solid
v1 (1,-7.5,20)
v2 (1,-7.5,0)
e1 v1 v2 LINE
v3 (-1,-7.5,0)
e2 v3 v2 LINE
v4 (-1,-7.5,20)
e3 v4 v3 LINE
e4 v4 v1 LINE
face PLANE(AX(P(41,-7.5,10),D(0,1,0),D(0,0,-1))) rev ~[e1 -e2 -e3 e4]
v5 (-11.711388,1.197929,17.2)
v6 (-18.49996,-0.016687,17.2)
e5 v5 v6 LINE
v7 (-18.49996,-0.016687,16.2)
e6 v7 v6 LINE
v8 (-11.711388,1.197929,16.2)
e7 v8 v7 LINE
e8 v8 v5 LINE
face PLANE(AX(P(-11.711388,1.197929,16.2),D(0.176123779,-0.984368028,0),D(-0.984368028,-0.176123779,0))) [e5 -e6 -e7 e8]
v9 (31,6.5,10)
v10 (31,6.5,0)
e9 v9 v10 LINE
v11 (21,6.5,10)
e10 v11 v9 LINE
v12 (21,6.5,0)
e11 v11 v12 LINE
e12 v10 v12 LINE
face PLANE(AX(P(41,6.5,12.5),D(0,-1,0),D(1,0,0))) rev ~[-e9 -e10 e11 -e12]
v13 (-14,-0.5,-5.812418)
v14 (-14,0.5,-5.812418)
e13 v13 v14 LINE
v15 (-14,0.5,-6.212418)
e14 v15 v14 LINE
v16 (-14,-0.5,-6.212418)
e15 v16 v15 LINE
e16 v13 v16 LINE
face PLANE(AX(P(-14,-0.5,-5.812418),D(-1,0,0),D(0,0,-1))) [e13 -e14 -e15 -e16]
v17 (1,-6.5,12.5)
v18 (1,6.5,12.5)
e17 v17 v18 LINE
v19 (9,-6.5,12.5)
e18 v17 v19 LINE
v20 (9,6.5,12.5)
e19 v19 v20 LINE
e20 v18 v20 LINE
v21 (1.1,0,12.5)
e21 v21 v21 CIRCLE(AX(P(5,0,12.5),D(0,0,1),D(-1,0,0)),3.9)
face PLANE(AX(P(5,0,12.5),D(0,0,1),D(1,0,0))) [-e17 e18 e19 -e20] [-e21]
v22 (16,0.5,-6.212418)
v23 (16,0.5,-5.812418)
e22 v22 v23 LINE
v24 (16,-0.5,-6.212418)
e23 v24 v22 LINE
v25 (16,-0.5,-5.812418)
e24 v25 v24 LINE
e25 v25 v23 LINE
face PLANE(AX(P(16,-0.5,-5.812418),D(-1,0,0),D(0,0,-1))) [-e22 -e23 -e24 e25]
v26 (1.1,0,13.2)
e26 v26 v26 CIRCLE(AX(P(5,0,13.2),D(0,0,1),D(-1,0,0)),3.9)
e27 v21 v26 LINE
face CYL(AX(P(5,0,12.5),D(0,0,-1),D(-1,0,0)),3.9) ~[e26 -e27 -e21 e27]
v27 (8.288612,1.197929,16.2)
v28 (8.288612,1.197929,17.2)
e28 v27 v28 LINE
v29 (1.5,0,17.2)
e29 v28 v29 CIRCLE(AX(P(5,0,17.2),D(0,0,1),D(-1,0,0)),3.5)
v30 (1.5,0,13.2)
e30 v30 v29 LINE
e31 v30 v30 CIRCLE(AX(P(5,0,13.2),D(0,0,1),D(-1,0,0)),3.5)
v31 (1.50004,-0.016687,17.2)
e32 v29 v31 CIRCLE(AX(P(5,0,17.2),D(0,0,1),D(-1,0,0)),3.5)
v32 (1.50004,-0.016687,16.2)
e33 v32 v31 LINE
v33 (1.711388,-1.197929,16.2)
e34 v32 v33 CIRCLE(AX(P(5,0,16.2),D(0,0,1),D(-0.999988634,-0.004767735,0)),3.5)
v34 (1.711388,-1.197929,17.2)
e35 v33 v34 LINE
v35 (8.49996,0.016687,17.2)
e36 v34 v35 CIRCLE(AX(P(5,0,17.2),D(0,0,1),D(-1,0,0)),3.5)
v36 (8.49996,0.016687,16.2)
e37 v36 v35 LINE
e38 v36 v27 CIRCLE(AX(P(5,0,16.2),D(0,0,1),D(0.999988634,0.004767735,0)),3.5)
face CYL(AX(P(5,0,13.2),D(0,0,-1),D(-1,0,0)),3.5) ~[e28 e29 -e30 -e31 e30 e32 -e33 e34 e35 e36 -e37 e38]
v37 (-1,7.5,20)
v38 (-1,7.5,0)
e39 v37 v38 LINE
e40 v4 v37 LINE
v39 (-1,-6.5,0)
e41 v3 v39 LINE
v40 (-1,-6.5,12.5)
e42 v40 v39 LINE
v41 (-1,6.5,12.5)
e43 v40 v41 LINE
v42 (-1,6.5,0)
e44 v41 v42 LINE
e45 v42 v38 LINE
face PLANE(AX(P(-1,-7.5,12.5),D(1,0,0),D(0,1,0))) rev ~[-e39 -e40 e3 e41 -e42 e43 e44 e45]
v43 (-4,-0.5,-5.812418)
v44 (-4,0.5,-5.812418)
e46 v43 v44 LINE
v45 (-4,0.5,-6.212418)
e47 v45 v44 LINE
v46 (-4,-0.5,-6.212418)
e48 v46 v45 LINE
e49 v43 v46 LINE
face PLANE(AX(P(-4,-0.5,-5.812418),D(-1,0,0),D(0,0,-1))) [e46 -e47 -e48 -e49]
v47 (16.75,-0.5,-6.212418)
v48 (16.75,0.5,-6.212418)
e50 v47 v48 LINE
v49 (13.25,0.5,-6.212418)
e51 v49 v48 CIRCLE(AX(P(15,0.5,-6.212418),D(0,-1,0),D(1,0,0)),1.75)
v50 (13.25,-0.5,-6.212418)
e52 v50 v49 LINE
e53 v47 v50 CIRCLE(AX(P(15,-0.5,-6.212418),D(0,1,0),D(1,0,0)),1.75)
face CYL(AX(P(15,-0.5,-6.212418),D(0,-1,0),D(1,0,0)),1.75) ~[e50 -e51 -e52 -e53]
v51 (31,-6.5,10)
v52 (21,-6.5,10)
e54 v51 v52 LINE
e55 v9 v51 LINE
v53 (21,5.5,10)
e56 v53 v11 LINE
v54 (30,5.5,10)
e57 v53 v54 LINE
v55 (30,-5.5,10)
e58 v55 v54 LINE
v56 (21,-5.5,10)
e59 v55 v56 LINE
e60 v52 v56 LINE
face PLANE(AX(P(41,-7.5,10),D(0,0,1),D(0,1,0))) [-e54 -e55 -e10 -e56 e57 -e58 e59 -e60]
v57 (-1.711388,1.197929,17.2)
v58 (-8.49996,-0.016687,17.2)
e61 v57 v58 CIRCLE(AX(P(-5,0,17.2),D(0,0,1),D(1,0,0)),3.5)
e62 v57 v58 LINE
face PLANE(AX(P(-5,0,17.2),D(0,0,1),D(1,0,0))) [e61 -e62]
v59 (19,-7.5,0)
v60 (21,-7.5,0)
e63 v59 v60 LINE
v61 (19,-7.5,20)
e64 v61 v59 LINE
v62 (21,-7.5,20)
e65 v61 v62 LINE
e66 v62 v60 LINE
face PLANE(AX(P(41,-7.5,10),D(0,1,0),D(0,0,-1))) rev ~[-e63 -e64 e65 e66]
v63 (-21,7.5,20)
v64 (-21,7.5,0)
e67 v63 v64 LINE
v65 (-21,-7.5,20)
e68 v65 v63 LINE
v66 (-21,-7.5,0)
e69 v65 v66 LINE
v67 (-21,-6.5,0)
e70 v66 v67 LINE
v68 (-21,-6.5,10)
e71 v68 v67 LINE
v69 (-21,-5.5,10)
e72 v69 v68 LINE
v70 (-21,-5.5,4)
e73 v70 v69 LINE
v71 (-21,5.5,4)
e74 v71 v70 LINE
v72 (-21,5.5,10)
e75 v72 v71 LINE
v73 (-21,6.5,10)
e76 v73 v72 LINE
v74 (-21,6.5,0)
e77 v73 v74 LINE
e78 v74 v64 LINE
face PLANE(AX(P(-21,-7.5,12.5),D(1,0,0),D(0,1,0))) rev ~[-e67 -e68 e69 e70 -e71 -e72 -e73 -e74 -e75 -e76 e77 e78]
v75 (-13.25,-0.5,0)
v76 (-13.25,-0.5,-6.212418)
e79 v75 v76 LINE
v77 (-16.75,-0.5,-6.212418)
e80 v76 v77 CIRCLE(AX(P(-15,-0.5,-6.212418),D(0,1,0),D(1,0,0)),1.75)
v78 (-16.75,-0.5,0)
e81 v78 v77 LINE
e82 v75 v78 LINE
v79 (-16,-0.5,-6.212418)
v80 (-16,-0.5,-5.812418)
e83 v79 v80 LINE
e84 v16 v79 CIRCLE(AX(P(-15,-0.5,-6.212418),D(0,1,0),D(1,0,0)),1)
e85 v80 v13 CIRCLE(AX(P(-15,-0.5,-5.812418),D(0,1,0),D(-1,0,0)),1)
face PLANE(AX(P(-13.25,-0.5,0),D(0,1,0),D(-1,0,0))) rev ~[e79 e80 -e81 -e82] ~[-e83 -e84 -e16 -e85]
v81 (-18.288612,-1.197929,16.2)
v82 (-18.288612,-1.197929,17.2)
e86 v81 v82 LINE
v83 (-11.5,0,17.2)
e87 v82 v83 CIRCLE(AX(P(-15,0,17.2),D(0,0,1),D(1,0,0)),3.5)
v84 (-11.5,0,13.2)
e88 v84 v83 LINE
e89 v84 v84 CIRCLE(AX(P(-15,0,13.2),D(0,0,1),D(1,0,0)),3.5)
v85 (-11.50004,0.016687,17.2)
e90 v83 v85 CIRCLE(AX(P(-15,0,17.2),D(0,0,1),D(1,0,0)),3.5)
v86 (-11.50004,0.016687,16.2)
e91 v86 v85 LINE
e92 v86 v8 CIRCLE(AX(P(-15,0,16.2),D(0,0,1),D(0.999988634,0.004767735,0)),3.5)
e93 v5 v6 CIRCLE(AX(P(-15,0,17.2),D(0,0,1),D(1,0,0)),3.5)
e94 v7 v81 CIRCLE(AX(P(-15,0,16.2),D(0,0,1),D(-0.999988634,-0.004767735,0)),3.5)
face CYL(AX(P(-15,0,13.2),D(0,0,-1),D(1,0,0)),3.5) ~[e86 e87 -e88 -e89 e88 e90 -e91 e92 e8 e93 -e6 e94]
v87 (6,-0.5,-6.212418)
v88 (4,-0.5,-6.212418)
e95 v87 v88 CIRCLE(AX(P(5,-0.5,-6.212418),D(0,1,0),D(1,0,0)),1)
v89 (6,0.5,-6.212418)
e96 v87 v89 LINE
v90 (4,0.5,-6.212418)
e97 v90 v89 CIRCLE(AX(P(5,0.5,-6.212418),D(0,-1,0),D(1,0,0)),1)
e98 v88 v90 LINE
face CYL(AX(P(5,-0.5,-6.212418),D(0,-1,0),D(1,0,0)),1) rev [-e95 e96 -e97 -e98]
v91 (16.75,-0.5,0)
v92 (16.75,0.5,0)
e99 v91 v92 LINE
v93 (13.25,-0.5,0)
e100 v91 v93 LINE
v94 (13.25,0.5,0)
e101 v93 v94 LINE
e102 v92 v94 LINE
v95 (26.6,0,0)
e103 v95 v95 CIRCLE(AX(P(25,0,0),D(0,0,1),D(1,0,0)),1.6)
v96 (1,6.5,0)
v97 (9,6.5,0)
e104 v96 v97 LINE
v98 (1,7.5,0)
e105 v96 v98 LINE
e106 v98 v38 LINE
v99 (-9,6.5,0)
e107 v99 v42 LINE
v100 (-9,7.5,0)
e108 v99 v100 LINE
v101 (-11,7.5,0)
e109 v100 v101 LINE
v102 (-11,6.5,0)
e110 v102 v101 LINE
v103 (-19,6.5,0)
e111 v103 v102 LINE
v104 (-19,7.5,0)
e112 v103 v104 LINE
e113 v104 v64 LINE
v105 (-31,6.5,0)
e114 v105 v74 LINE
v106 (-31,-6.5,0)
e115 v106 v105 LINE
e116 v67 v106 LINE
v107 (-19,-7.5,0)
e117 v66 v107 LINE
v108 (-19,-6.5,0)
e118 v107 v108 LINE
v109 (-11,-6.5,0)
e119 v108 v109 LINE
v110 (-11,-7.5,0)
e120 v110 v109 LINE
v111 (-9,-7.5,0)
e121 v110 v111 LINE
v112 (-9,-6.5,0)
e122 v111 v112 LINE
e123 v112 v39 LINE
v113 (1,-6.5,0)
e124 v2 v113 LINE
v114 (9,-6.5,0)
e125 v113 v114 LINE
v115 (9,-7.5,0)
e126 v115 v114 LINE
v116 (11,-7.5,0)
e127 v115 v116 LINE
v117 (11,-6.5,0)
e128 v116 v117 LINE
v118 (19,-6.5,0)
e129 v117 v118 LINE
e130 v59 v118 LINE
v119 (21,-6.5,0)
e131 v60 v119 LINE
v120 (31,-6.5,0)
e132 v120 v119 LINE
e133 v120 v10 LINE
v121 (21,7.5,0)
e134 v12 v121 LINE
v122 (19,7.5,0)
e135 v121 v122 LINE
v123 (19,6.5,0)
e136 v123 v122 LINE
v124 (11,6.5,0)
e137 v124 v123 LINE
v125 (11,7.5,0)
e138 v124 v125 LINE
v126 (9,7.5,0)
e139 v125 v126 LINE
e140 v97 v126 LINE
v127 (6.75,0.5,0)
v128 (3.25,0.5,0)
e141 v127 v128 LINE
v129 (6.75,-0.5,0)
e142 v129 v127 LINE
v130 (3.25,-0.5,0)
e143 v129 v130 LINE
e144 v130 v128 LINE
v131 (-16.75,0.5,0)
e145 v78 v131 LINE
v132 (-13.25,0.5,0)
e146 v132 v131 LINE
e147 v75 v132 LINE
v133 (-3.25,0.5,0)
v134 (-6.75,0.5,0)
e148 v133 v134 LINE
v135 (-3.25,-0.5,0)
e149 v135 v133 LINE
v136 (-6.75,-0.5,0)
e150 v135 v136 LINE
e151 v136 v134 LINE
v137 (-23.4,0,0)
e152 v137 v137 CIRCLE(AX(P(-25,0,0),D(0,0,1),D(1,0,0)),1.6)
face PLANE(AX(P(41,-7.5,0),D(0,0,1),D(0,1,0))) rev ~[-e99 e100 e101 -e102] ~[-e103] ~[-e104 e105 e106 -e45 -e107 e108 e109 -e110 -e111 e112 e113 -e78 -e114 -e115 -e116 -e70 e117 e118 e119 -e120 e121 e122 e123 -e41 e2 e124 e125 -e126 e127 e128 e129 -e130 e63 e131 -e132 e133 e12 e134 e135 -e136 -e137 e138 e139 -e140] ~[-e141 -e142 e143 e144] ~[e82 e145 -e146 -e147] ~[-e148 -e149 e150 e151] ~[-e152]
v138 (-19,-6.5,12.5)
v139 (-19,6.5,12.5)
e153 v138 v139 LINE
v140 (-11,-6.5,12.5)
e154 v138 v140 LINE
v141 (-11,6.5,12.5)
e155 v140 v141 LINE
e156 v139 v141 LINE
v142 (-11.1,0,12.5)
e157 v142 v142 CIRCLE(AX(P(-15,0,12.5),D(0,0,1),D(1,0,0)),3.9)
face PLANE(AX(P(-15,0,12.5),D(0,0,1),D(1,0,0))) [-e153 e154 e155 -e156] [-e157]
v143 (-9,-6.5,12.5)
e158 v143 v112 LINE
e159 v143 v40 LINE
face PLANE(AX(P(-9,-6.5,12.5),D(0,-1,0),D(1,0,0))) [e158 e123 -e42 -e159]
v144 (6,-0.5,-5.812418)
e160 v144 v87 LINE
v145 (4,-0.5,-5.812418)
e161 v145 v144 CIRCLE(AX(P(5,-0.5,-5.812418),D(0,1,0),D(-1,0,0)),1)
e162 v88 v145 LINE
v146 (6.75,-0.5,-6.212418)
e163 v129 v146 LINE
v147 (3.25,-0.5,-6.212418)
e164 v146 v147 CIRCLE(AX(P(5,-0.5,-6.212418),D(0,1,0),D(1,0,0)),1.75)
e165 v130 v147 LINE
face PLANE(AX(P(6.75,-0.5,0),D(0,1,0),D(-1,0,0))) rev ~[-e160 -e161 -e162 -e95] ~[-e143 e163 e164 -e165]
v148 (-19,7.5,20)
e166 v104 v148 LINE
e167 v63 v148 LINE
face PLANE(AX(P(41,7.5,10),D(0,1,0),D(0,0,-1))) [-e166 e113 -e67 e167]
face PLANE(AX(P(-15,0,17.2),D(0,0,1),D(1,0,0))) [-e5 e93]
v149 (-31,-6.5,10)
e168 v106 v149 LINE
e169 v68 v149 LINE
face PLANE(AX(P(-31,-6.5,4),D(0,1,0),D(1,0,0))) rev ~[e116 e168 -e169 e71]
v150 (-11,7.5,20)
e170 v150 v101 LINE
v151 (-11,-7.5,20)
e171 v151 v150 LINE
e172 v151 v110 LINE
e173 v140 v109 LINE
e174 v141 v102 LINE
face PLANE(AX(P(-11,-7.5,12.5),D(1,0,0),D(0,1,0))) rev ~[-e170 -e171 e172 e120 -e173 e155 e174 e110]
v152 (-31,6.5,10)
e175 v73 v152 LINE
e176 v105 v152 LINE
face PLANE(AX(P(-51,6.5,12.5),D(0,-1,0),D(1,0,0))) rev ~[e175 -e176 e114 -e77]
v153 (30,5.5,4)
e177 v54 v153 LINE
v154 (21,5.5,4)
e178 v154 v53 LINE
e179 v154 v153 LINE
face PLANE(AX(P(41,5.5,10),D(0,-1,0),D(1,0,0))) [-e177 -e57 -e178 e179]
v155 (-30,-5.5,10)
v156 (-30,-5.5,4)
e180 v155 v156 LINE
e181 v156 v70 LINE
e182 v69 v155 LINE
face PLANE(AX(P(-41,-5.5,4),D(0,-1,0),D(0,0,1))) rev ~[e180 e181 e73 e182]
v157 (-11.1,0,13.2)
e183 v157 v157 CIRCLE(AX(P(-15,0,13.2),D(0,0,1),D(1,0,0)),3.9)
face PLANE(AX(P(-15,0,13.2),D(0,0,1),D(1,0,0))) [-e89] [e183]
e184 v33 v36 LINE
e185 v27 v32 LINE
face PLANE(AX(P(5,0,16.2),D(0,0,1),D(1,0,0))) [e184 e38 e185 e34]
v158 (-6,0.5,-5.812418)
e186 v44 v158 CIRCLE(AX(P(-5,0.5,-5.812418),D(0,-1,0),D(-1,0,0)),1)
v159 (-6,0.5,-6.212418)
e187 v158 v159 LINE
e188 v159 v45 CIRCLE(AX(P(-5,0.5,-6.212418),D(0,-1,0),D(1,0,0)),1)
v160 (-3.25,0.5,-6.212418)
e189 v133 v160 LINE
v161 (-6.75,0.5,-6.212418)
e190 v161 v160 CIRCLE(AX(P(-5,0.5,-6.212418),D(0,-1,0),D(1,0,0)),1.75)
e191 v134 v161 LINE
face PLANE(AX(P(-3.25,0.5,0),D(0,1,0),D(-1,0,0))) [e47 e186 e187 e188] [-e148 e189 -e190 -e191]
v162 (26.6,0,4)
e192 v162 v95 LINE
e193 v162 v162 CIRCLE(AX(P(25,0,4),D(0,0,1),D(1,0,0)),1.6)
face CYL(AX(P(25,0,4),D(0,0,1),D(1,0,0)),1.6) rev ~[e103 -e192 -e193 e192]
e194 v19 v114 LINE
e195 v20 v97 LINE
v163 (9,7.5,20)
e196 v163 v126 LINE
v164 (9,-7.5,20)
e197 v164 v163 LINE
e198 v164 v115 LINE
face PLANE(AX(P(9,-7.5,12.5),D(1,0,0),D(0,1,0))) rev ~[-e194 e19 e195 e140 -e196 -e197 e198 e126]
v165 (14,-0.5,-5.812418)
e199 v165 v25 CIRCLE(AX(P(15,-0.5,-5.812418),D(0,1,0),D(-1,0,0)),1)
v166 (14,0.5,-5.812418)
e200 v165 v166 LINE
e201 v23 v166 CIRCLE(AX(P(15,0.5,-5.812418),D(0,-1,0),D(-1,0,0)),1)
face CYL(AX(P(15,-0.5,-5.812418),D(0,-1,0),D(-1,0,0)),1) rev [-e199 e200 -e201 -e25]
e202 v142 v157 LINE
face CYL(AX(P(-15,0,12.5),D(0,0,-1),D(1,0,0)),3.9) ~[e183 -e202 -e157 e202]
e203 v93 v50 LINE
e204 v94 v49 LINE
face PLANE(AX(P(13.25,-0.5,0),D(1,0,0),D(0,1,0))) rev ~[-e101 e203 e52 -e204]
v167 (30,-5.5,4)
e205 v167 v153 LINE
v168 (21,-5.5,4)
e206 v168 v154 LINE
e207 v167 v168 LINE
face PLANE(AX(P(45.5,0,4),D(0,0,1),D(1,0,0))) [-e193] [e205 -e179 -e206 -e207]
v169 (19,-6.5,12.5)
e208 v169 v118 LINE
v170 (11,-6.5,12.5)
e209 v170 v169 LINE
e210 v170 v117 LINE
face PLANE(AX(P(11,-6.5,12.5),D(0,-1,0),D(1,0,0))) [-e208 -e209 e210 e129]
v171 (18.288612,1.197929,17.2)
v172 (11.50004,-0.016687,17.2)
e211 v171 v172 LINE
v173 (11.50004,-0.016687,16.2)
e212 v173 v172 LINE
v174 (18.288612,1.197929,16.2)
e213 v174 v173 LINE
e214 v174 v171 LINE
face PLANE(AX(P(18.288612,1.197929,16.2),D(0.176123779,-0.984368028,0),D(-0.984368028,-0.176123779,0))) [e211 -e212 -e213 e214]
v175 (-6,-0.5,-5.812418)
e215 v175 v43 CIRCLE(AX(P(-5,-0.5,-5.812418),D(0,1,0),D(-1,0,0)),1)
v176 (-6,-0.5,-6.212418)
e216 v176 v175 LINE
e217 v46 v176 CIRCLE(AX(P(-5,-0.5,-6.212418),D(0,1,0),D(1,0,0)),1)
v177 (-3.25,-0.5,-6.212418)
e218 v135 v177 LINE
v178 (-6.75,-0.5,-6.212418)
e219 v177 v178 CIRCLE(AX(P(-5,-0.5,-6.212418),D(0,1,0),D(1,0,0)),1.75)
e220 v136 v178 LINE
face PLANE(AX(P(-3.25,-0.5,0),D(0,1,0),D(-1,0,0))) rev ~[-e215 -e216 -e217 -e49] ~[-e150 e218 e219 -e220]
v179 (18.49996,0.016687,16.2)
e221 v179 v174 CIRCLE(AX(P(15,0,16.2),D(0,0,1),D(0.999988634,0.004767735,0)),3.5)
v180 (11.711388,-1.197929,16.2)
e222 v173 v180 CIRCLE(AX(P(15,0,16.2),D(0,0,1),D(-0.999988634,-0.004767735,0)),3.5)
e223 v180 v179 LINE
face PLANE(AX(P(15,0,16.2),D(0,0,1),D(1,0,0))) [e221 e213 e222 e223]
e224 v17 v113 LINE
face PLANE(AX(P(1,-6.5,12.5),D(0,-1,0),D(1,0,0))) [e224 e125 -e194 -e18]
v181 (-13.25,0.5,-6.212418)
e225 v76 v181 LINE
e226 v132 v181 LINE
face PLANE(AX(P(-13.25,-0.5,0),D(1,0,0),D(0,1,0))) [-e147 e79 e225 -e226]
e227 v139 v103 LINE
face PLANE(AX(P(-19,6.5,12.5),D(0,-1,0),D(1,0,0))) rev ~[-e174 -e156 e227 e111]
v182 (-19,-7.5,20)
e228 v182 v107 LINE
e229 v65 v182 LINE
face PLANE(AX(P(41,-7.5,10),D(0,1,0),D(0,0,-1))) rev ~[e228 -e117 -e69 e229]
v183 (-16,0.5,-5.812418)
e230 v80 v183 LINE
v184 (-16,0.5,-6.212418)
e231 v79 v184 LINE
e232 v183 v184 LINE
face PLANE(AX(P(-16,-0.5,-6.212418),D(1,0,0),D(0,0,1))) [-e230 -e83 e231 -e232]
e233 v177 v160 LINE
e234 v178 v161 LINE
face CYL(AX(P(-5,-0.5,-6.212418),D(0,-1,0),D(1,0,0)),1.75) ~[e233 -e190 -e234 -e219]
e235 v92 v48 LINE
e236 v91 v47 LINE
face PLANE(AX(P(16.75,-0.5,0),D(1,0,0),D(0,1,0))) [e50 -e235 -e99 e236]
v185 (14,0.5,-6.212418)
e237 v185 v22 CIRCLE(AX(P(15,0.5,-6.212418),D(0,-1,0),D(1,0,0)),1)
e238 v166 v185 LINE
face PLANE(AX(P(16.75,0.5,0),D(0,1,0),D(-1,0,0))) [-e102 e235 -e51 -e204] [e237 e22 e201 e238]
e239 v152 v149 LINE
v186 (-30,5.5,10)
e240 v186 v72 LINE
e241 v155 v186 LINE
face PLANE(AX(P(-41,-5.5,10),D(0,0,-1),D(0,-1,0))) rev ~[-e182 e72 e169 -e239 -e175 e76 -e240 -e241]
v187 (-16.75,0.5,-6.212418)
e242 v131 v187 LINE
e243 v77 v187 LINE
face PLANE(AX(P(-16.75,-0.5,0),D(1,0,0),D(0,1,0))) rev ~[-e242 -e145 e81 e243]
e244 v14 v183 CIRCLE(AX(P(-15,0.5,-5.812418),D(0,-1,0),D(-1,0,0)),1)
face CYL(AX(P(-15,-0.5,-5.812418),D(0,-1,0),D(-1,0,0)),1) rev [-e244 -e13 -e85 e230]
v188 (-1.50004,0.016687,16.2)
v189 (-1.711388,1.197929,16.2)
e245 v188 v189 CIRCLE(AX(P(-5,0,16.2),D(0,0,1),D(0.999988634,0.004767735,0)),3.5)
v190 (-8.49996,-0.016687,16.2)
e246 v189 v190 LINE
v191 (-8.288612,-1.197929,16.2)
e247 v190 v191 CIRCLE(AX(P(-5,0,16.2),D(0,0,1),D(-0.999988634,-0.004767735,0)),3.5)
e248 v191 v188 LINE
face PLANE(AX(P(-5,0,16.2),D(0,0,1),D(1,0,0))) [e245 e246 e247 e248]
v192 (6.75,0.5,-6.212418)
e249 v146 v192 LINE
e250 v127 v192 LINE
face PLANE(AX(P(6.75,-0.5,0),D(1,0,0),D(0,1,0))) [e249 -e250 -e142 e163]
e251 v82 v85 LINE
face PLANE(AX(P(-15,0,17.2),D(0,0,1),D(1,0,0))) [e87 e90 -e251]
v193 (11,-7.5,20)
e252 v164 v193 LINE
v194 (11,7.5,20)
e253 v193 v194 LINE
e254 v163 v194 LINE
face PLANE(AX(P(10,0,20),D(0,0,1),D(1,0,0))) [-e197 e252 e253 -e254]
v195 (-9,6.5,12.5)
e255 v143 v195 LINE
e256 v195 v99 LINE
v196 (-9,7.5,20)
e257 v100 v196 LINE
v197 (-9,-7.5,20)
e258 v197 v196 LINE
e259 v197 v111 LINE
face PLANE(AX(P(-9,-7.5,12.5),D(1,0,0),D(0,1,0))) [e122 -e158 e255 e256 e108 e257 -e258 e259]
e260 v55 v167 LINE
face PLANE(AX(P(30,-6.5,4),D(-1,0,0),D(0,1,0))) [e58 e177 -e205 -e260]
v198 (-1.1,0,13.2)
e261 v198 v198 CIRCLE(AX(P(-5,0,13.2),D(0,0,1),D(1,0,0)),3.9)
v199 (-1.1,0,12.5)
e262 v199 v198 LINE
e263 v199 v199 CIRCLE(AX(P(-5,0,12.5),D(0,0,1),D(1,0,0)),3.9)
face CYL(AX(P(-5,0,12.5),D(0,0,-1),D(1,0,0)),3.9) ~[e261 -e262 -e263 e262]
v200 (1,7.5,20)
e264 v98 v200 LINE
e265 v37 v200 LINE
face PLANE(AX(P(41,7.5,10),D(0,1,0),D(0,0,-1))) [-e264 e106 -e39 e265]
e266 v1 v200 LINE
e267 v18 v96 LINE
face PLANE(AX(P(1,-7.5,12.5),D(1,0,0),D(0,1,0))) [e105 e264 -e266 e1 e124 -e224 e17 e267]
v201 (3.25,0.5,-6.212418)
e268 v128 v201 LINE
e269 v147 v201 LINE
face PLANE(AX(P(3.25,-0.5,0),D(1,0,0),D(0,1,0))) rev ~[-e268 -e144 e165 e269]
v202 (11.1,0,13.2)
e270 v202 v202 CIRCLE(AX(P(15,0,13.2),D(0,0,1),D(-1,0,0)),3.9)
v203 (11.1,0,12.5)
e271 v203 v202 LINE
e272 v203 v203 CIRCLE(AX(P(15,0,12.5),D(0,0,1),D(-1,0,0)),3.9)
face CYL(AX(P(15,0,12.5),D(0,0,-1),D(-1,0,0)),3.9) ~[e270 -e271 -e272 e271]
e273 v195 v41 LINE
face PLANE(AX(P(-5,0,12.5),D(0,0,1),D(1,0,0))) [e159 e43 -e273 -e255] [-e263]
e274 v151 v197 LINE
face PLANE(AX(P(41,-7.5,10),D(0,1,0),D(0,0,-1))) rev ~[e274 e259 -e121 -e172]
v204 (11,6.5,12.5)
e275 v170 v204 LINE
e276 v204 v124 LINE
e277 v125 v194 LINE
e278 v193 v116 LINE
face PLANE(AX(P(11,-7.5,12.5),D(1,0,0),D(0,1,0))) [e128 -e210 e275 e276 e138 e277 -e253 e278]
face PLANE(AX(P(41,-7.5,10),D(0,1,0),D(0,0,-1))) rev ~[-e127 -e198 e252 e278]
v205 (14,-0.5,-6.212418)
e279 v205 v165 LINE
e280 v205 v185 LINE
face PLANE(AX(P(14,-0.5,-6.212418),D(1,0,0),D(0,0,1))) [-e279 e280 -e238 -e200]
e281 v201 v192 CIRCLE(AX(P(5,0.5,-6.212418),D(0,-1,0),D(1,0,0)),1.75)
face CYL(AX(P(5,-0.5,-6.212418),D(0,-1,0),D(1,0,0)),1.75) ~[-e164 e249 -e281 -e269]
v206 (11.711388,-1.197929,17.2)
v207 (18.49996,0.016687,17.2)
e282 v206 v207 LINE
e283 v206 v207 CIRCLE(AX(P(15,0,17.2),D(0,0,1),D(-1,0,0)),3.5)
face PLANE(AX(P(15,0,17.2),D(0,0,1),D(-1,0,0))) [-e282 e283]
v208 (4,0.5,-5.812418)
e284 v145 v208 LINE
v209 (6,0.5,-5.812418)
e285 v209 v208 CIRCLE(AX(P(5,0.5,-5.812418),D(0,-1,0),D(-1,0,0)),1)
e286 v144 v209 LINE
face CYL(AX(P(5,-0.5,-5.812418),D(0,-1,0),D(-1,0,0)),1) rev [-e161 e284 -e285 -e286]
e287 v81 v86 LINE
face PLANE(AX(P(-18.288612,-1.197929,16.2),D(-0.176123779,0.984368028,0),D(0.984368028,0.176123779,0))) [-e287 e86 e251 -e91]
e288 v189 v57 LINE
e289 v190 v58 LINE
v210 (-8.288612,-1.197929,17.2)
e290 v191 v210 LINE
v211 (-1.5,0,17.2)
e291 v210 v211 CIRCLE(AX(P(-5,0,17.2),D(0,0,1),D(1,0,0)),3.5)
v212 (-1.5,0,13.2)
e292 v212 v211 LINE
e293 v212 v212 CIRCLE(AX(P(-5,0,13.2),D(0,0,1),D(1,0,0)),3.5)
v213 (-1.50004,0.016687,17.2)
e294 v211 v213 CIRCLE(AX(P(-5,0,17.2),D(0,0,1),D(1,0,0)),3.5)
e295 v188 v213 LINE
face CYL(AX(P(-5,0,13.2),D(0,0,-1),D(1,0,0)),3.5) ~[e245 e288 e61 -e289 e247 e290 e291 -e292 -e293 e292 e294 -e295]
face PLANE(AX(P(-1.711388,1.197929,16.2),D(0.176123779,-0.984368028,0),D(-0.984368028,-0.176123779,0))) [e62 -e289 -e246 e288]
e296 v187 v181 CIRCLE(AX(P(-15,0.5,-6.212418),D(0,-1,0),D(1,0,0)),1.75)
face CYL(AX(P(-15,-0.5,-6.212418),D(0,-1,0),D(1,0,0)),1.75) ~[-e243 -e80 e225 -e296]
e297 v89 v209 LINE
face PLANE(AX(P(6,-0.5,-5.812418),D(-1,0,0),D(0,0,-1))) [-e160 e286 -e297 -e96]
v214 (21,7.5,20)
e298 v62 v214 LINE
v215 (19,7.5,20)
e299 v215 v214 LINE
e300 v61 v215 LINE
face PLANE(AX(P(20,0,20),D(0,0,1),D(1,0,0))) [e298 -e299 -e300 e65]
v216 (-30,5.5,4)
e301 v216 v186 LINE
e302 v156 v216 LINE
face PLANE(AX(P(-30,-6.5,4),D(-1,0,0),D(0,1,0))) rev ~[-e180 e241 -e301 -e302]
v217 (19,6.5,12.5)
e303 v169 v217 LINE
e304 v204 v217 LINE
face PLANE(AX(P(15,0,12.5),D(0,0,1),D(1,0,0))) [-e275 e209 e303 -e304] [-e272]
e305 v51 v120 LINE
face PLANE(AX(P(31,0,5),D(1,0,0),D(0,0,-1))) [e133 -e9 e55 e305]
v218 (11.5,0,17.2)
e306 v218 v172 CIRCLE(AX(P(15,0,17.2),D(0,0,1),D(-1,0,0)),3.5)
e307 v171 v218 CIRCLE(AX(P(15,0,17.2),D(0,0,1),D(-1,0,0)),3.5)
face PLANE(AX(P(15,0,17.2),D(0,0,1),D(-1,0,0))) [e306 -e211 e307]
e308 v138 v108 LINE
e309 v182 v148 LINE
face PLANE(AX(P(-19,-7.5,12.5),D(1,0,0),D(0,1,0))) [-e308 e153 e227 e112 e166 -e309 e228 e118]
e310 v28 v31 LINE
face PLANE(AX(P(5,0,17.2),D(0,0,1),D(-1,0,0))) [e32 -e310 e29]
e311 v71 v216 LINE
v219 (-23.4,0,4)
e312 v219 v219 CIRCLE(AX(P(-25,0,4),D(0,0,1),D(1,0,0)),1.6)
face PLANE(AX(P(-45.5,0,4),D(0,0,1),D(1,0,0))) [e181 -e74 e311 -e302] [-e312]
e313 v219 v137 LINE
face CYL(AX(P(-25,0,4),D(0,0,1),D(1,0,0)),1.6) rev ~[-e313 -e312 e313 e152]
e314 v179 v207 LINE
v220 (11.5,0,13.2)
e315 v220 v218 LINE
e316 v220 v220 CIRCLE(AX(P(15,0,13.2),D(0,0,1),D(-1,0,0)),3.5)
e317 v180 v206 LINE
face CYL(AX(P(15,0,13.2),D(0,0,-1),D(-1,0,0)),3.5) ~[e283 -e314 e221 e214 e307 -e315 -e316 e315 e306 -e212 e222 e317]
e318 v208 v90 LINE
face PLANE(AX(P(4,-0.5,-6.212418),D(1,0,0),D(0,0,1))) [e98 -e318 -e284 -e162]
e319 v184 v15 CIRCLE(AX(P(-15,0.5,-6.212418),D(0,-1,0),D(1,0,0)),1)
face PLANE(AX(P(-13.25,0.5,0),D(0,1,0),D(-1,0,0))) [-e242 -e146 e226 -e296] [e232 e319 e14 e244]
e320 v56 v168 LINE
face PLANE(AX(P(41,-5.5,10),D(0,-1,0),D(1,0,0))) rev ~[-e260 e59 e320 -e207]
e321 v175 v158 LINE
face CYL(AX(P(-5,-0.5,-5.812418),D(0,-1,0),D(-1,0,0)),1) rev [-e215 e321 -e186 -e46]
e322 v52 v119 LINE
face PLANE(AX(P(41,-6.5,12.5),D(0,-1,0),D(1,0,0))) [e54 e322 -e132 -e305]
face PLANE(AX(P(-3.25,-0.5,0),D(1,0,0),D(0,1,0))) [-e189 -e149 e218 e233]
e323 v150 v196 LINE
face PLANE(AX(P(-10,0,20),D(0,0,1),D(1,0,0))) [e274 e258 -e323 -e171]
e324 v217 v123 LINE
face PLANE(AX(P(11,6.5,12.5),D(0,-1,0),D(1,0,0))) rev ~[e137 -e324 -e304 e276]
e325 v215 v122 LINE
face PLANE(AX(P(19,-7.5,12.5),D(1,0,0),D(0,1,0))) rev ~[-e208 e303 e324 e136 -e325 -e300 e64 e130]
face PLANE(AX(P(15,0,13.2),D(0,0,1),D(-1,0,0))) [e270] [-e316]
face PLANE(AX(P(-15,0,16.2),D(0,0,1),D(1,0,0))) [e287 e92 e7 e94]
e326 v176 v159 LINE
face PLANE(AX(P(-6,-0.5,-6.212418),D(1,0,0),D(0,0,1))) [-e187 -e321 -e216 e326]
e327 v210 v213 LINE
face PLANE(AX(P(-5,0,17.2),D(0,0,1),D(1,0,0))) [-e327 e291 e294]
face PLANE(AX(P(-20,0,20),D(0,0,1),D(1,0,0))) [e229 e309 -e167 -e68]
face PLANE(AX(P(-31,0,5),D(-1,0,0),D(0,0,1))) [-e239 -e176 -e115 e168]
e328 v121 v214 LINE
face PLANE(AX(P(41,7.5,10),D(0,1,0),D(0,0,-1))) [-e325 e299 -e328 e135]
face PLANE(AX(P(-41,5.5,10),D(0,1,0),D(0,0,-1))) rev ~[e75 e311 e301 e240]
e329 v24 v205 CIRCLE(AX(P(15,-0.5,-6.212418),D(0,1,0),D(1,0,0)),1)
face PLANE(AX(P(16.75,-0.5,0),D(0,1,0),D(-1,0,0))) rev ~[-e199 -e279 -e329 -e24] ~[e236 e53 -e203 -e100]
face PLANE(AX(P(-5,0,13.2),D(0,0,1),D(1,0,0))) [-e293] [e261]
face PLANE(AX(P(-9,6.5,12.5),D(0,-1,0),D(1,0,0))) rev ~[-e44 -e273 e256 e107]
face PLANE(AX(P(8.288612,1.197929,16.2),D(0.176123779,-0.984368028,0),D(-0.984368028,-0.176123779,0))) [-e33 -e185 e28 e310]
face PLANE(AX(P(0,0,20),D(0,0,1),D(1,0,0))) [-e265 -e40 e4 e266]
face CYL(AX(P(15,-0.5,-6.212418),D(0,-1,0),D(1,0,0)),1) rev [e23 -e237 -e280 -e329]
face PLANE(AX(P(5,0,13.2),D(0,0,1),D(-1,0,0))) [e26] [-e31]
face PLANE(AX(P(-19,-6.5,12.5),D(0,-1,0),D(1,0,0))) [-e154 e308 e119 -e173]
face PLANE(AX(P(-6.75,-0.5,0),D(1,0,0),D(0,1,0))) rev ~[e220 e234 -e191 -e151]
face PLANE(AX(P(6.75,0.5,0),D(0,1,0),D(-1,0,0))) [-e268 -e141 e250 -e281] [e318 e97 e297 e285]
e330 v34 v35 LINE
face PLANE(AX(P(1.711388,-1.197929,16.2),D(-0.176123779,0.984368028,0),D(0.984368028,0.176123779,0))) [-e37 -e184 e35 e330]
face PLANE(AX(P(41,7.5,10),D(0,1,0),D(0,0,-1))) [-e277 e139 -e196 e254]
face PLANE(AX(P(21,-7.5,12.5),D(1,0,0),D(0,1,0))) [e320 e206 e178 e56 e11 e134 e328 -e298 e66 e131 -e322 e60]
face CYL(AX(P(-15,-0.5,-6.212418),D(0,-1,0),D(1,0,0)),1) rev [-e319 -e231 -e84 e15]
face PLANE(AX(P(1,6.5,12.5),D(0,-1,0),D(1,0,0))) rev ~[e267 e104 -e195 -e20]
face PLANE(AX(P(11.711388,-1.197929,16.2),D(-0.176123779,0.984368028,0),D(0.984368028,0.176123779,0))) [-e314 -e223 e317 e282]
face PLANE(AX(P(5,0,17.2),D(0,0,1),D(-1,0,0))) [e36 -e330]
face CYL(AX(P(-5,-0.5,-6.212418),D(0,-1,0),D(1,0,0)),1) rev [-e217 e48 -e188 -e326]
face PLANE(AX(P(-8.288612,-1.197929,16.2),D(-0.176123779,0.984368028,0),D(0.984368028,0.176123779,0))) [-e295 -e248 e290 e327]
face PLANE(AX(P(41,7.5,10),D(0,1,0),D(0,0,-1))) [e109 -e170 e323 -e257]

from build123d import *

# Parameters (mm, degrees)
SKETCH_1_W             = 82
SKETCH_1_H             = 15
EXTRUDE_1_DEPTH        = 10
SKETCH_2_W             = 2
SKETCH_2_H             = 15
EXTRUDE_2_DEPTH        = 10
SKETCH_3_W             = 8
SKETCH_3_H             = 15
EXTRUDE_3_DEPTH        = 2.5
SKETCH_4_R             = 3.9
EXTRUDE_4_DEPTH        = 0.7
SKETCH_6_R             = 3.5
EXTRUDE_5_DEPTH        = 4
CUT_EXTRUDE_START      = -1
CUT_EXTRUDE_1_DEPTH    = 1
SKETCH_8_W             = 3.5
SKETCH_8_H             = 1
EXTRUDE_6_DEPTH        = 8
SKETCH_10_W            = 10
SKETCH_10_H            = 15
EXTRUDE_7_DEPTH        = 10
SKETCH_11_W            = 10
SKETCH_11_H            = 15
EXTRUDE_8_DEPTH        = 10
SKETCH_12_R            = 1.6
CUT_EXTRUDE_2_DEPTH    = 10
SKETCH_13_W            = 9
SKETCH_13_H            = 11
CUT_EXTRUDE_3_DEPTH    = 6
SKETCH_14_W            = 8
SKETCH_14_H            = 1
SKETCH_14_W_2          = 10
CUT_EXTRUDE_4_DEPTH    = 20
CUT_EXTRUDE_5_DEPTH    = 20
PATTERN_LINEAR_1_COUNT = 8
PATTERN_LINEAR_1_PITCH = 10
CUT_EXTRUDE_6_DEPTH    = 20
CUT_EXTRUDE_7_DEPTH    = 20
CUT_EXTRUDE_8_DEPTH    = 10
SKETCH_19_R            = 1.6
CUT_EXTRUDE_9_DEPTH    = 10
SKETCH_20_W            = 1
SKETCH_20_H            = 13
EXTRUDE_9_DEPTH        = 6
SKETCH_21_W            = 10
SKETCH_21_H            = 13
CUT_EXTRUDE_10_DEPTH   = 20
SKETCH_22_W            = 10
SKETCH_22_H            = 13
CUT_EXTRUDE_11_DEPTH   = 20


with BuildPart() as part:
    # Эскиз1 → Вытянуть1 (new body)
    with BuildSketch(Plane.XY):
        Rectangle(SKETCH_1_W, SKETCH_1_H)
    extrude(amount=EXTRUDE_1_DEPTH)

    # Эскиз2 → Вытянуть2 (add)
    with BuildSketch(Plane.XY.offset(10)):
        with Locations((-40, 0)):
            Rectangle(SKETCH_2_W, SKETCH_2_H)
        with Locations((-30, 0)):
            Rectangle(SKETCH_2_W, SKETCH_2_H)
        Rectangle(SKETCH_2_W, SKETCH_2_H)
        with Locations((30, 0)):
            Rectangle(SKETCH_2_W, SKETCH_2_H)
        with Locations((40, 0)):
            Rectangle(SKETCH_2_W, SKETCH_2_H)
        with Locations((-20, 0)):
            Rectangle(SKETCH_2_W, SKETCH_2_H)
        with Locations((10, 0)):
            Rectangle(SKETCH_2_W, SKETCH_2_H)
        with Locations((-10, 0)):
            Rectangle(SKETCH_2_W, SKETCH_2_H)
        with Locations((20, 0)):
            Rectangle(SKETCH_2_W, SKETCH_2_H)
    extrude(amount=EXTRUDE_2_DEPTH)

    # Эскиз3 → Вытянуть3 (add)
    with BuildSketch(Plane.XY.offset(10)):
        with Locations((-35, 0)):
            Rectangle(SKETCH_3_W, SKETCH_3_H)
        with Locations((-25, 0)):
            Rectangle(SKETCH_3_W, SKETCH_3_H)
        with Locations((-15, 0)):
            Rectangle(SKETCH_3_W, SKETCH_3_H)
        with Locations((-5, 0)):
            Rectangle(SKETCH_3_W, SKETCH_3_H)
        with Locations((5, 0)):
            Rectangle(SKETCH_3_W, SKETCH_3_H)
        with Locations((15, 0)):
            Rectangle(SKETCH_3_W, SKETCH_3_H)
        with Locations((25, 0)):
            Rectangle(SKETCH_3_W, SKETCH_3_H)
        with Locations((35, 0)):
            Rectangle(SKETCH_3_W, SKETCH_3_H)
    extrude(amount=EXTRUDE_3_DEPTH)

    # Эскиз4 → Вытянуть4 (add)
    with BuildSketch(Plane.XY.offset(12.5)):
        with Locations(Location((-35, 0, 0), (0, 0, 180))):
            Circle(SKETCH_4_R)
        with Locations((-25, 0)):
            Circle(SKETCH_4_R)
        with Locations((-15, 0)):
            Circle(SKETCH_4_R)
        with Locations((-5, 0)):
            Circle(SKETCH_4_R)
        with Locations(Location((5, 0, 0), (0, 0, 180))):
            Circle(SKETCH_4_R)
        with Locations(Location((15, 0, 0), (0, 0, 180))):
            Circle(SKETCH_4_R)
        with Locations(Location((25, 0, 0), (0, 0, 180))):
            Circle(SKETCH_4_R)
        with Locations(Location((35, 0, 0), (0, 0, 180))):
            Circle(SKETCH_4_R)
    extrude(amount=EXTRUDE_4_DEPTH)

    # Эскиз6 → Вытянуть5 (add)
    with BuildSketch(Plane.XY.offset(13.2)):
        with Locations((-35, 0)):
            Circle(SKETCH_6_R)
        with Locations((-25, 0)):
            Circle(SKETCH_6_R)
        with Locations((-15, 0)):
            Circle(SKETCH_6_R)
        with Locations((-5, 0)):
            Circle(SKETCH_6_R)
        with Locations(Location((5, 0, 0), (0, 0, 180))):
            Circle(SKETCH_6_R)
        with Locations(Location((15, 0, 0), (0, 0, 180))):
            Circle(SKETCH_6_R)
        with Locations(Location((25, 0, 0), (0, 0, 180))):
            Circle(SKETCH_6_R)
        with Locations(Location((35, 0, 0), (0, 0, 180))):
            Circle(SKETCH_6_R)
    extrude(amount=EXTRUDE_5_DEPTH)

    # Эскиз7 → Вырез-Вытянуть1 (cut)
    with BuildSketch(Plane.XY.offset(17.2).offset(CUT_EXTRUDE_START)):
        with BuildLine():
            Line((-31.711388315, 1.197928706), (-38.49996022, -0.016687072))
            ThreePointArc((-38.49996022, -0.016687072), (-38.445288098, -0.616433226), (-38.288611685, -1.197928706))
            Line((-38.288611685, -1.197928706), (-31.50003978, 0.016687072))
            ThreePointArc((-31.50003978, 0.016687072), (-31.554711902, 0.616433226), (-31.711388315, 1.197928706))
        make_face()
        with BuildLine():
            Line((-21.711388315, 1.197928706), (-28.49996022, -0.016687072))
            ThreePointArc((-28.49996022, -0.016687072), (-28.445288098, -0.616433226), (-28.288611685, -1.197928706))
            Line((-28.288611685, -1.197928706), (-21.50003978, 0.016687072))
            ThreePointArc((-21.50003978, 0.016687072), (-21.554711902, 0.616433226), (-21.711388315, 1.197928706))
        make_face()
        with BuildLine():
            Line((-11.711388315, 1.197928706), (-18.49996022, -0.016687072))
            ThreePointArc((-18.49996022, -0.016687072), (-18.445288098, -0.616433226), (-18.288611685, -1.197928706))
            Line((-18.288611685, -1.197928706), (-11.50003978, 0.016687072))
            ThreePointArc((-11.50003978, 0.016687072), (-11.554711902, 0.616433226), (-11.711388315, 1.197928706))
        make_face()
        with BuildLine():
            Line((-1.711388315, 1.197928706), (-8.49996022, -0.016687072))
            ThreePointArc((-8.49996022, -0.016687072), (-8.445288098, -0.616433226), (-8.288611685, -1.197928706))
            Line((-8.288611685, -1.197928706), (-1.50003978, 0.016687072))
            ThreePointArc((-1.50003978, 0.016687072), (-1.554711902, 0.616433226), (-1.711388315, 1.197928706))
        make_face()
        with BuildLine():
            Line((8.288611685, 1.197928706), (1.50003978, -0.016687072))
            ThreePointArc((1.50003978, -0.016687072), (1.554711902, -0.616433226), (1.711388315, -1.197928706))
            Line((1.711388315, -1.197928706), (8.49996022, 0.016687072))
            ThreePointArc((8.49996022, 0.016687072), (8.445288098, 0.616433226), (8.288611685, 1.197928706))
        make_face()
        with BuildLine():
            Line((18.288611685, 1.197928706), (11.50003978, -0.016687072))
            ThreePointArc((11.50003978, -0.016687072), (11.554711902, -0.616433226), (11.711388315, -1.197928706))
            Line((11.711388315, -1.197928706), (18.49996022, 0.016687072))
            ThreePointArc((18.49996022, 0.016687072), (18.445288098, 0.616433226), (18.288611685, 1.197928706))
        make_face()
        with BuildLine():
            Line((28.288611685, 1.197928706), (21.50003978, -0.016687072))
            ThreePointArc((21.50003978, -0.016687072), (21.554711902, -0.616433226), (21.711388315, -1.197928706))
            Line((21.711388315, -1.197928706), (28.49996022, 0.016687072))
            ThreePointArc((28.49996022, 0.016687072), (28.445288098, 0.616433226), (28.288611685, 1.197928706))
        make_face()
        with BuildLine():
            Line((38.288611685, 1.197928706), (31.50003978, -0.016687072))
            ThreePointArc((31.50003978, -0.016687072), (31.554711902, -0.616433226), (31.711388315, -1.197928706))
            Line((31.711388315, -1.197928706), (38.49996022, 0.016687072))
            ThreePointArc((38.49996022, 0.016687072), (38.445288098, 0.616433226), (38.288611685, 1.197928706))
        make_face()
    extrude(amount=CUT_EXTRUDE_1_DEPTH, mode=Mode.SUBTRACT)

    # Эскиз8 → Вытянуть6 (add)
    with BuildSketch(Plane(origin=(0, 0, 0), x_dir=(-1, 0, 0), z_dir=(0, 0, -1))):
        with Locations((25, 0)):
            Rectangle(SKETCH_8_W, SKETCH_8_H)
        with Locations((15, 0)):
            Rectangle(SKETCH_8_W, SKETCH_8_H)
        with Locations((5, 0)):
            Rectangle(SKETCH_8_W, SKETCH_8_H)
        with Locations((-5, 0)):
            Rectangle(SKETCH_8_W, SKETCH_8_H)
        with Locations((-15, 0)):
            Rectangle(SKETCH_8_W, SKETCH_8_H)
        with Locations((-25, 0)):
            Rectangle(SKETCH_8_W, SKETCH_8_H)
        with Locations((-35, 0)):
            Rectangle(SKETCH_8_W, SKETCH_8_H)
        with Locations((35, 0)):
            Rectangle(SKETCH_8_W, SKETCH_8_H)
    extrude(amount=EXTRUDE_6_DEPTH)

    # Эскиз10 → Вытянуть7 (add)
    with BuildSketch(Plane.ZY.offset(41)):
        with Locations((5, 0)):
            Rectangle(SKETCH_10_W, SKETCH_10_H)
    extrude(amount=EXTRUDE_7_DEPTH)

    # Эскиз11 → Вытянуть8 (add)
    with BuildSketch(Plane(origin=(41, 0, 0), x_dir=(0, 0, -1), z_dir=(1, 0, 0))):
        with Locations((-5, 0)):
            Rectangle(SKETCH_11_W, SKETCH_11_H)
    extrude(amount=EXTRUDE_8_DEPTH)

    # Эскиз12 → Вырез-Вытянуть2 (cut)
    with BuildSketch(Plane.XY.offset(10)):
        with Locations((45, 0)):
            Circle(SKETCH_12_R)
        with Locations(Location((-45, 0, 0), (0, 0, 180))):
            Circle(SKETCH_12_R)
    extrude(amount=-CUT_EXTRUDE_2_DEPTH, mode=Mode.SUBTRACT)

    # Эскиз13 → Вырез-Вытянуть3 (cut)
    with BuildSketch(Plane.XY.offset(10)):
        with Locations((45.5, 0)):
            Rectangle(SKETCH_13_W, SKETCH_13_H)
        with Locations((-45.5, 0)):
            Rectangle(SKETCH_13_W, SKETCH_13_H)
    extrude(amount=-CUT_EXTRUDE_3_DEPTH, mode=Mode.SUBTRACT)

    # Эскиз14 → Вырез-Вытянуть4 (cut)
    with BuildSketch(Plane.XY.offset(12.5)):
        with Locations((35, 7)):
            Rectangle(SKETCH_14_W, SKETCH_14_H)
        with Locations((46, 7)):
            Rectangle(SKETCH_14_W_2, SKETCH_14_H)
        with Locations((46, -7)):
            Rectangle(SKETCH_14_W_2, SKETCH_14_H)
        with Locations((35, -7)):
            Rectangle(SKETCH_14_W, SKETCH_14_H)
        with Locations((25, 7)):
            Rectangle(SKETCH_14_W, SKETCH_14_H)
        with Locations((25, -7)):
            Rectangle(SKETCH_14_W, SKETCH_14_H)
        with Locations((15, 7)):
            Rectangle(SKETCH_14_W, SKETCH_14_H)
        with Locations((15, -7)):
            Rectangle(SKETCH_14_W, SKETCH_14_H)
        with Locations((5, 7)):
            Rectangle(SKETCH_14_W, SKETCH_14_H)
        with Locations((5, -7)):
            Rectangle(SKETCH_14_W, SKETCH_14_H)
        with Locations((-5, 7)):
            Rectangle(SKETCH_14_W, SKETCH_14_H)
        with Locations((-5, -7)):
            Rectangle(SKETCH_14_W, SKETCH_14_H)
        with Locations((-15, 7)):
            Rectangle(SKETCH_14_W, SKETCH_14_H)
        with Locations((-15, -7)):
            Rectangle(SKETCH_14_W, SKETCH_14_H)
        with Locations((-25, 7)):
            Rectangle(SKETCH_14_W, SKETCH_14_H)
        with Locations((-25, -7)):
            Rectangle(SKETCH_14_W, SKETCH_14_H)
        with Locations((-35, 7)):
            Rectangle(SKETCH_14_W, SKETCH_14_H)
        with Locations((-35, -7)):
            Rectangle(SKETCH_14_W, SKETCH_14_H)
        with Locations((-46, -7)):
            Rectangle(SKETCH_14_W_2, SKETCH_14_H)
        with Locations((-46, 7)):
            Rectangle(SKETCH_14_W_2, SKETCH_14_H)
    extrude(amount=-CUT_EXTRUDE_4_DEPTH, mode=Mode.SUBTRACT)

    # Эскиз15 → Вырез-Вытянуть5 (cut)
    with BuildSketch(Plane.XZ.offset(0.5)):
        with BuildLine():
            Line((33.25, -6.212418118), (33.25, -10.544797806))
            Line((33.25, -10.544797806), (36.75, -10.544797806))
            Line((36.75, -10.544797806), (36.75, -6.212418118))
            ThreePointArc((36.75, -6.212418118), (35, -7.962418118), (33.25, -6.212418118))
        make_face()
        with BuildLine():
            Line((34, -6.212418118), (34, -5.812418118))
            ThreePointArc((34, -5.812418118), (35, -4.812418118), (36, -5.812418118))
            Line((36, -5.812418118), (36, -6.212418118))
            ThreePointArc((36, -6.212418118), (35, -7.212418118), (34, -6.212418118))
        make_face()
    cut_extrude_5 = extrude(amount=-CUT_EXTRUDE_5_DEPTH, mode=Mode.SUBTRACT)

    # Линейный массив1: Вырез-Вытянуть5 ×8
    with Locations(*[(-i * PATTERN_LINEAR_1_PITCH, 0, 0) for i in range(1, PATTERN_LINEAR_1_COUNT)]):
        add(cut_extrude_5, mode=Mode.SUBTRACT)

    # Эскиз16 → Вырез-Вытянуть6 (cut)
    with BuildSketch(Plane.ZY.offset(41)):
        Polygon((0, 6.5), (10, 6.5), (10, 5.5), (4, 5.5), (4, -5.5), (10, -5.5), (10, -6.5), (0, -6.5), (0, -7.5), (20, -7.5), (20, 7.5), (0, 7.5), align=None)
    extrude(amount=-CUT_EXTRUDE_6_DEPTH, mode=Mode.SUBTRACT)

    # Эскиз17 → Вырез-Вытянуть7 (cut)
    with BuildSketch(Plane(origin=(41, 0, 0), x_dir=(0, 0, -1), z_dir=(1, 0, 0))):
        Polygon((0, -6.5), (-10, -6.5), (-10, -5.5), (-4, -5.5), (-4, 5.5), (-10, 5.5), (-10, 6.5), (0, 6.5), (0, 7.5), (-20, 7.5), (-20, -7.5), (0, -7.5), align=None)
    extrude(amount=-CUT_EXTRUDE_7_DEPTH, mode=Mode.SUBTRACT)

    # Эскиз18 → Вырез-Вытянуть8 (cut)
    with BuildSketch(Plane.XZ.offset(0.5)):
        with BuildLine():
            Line((-26.75, 0), (-26.75, -6.212418118))
            ThreePointArc((-26.75, -6.212418118), (-25, -7.962418118), (-23.25, -6.212418118))
            Line((-23.25, -6.212418118), (-23.25, 0))
            Line((-23.25, 0), (-26.75, 0))
        make_face()
        with BuildLine():
            Line((-36.75, 0), (-36.75, -6.212418118))
            ThreePointArc((-36.75, -6.212418118), (-35, -7.962418118), (-33.25, -6.212418118))
            Line((-33.25, -6.212418118), (-33.25, 0))
            Line((-33.25, 0), (-36.75, 0))
        make_face()
        with BuildLine():
            Line((23.25, 0), (23.25, -6.212418118))
            ThreePointArc((23.25, -6.212418118), (25, -7.962418118), (26.75, -6.212418118))
            Line((26.75, -6.212418118), (26.75, 0))
            Line((26.75, 0), (23.25, 0))
        make_face()
        with BuildLine():
            Line((33.25, 0), (33.25, -6.212418118))
            ThreePointArc((33.25, -6.212418118), (35, -7.962418118), (36.75, -6.212418118))
            Line((36.75, -6.212418118), (36.75, 0))
            Line((36.75, 0), (33.25, 0))
        make_face()
    extrude(amount=-CUT_EXTRUDE_8_DEPTH, mode=Mode.SUBTRACT)

    # Эскиз19 → Вырез-Вытянуть9 (cut)
    with BuildSketch(Plane.XY.offset(4)):
        with Locations((-25, 0)):
            Circle(SKETCH_19_R)
        with Locations((25, 0)):
            Circle(SKETCH_19_R)
    extrude(amount=-CUT_EXTRUDE_9_DEPTH, mode=Mode.SUBTRACT)

    # Эскиз20 → Вытянуть9 (add)
    with BuildSketch(Plane.XY.offset(4)):
        with Locations((-30.5, 0)):
            Rectangle(SKETCH_20_W, SKETCH_20_H)
        with Locations((30.5, 0)):
            Rectangle(SKETCH_20_W, SKETCH_20_H)
    extrude(amount=EXTRUDE_9_DEPTH)

    # Эскиз21 → Вырез-Вытянуть10 (cut)
    with BuildSketch(Plane.ZY.offset(51)):
        with Locations((5, 0)):
            Rectangle(SKETCH_21_W, SKETCH_21_H)
    extrude(amount=-CUT_EXTRUDE_10_DEPTH, mode=Mode.SUBTRACT)

    # Эскиз22 → Вырез-Вытянуть11 (cut)
    with BuildSketch(Plane(origin=(51, 0, 0), x_dir=(0, 0, -1), z_dir=(1, 0, 0))):
        with Locations((-5, 0)):
            Rectangle(SKETCH_22_W, SKETCH_22_H)
    extrude(amount=-CUT_EXTRUDE_11_DEPTH, mode=Mode.SUBTRACT)


solid = part.part
